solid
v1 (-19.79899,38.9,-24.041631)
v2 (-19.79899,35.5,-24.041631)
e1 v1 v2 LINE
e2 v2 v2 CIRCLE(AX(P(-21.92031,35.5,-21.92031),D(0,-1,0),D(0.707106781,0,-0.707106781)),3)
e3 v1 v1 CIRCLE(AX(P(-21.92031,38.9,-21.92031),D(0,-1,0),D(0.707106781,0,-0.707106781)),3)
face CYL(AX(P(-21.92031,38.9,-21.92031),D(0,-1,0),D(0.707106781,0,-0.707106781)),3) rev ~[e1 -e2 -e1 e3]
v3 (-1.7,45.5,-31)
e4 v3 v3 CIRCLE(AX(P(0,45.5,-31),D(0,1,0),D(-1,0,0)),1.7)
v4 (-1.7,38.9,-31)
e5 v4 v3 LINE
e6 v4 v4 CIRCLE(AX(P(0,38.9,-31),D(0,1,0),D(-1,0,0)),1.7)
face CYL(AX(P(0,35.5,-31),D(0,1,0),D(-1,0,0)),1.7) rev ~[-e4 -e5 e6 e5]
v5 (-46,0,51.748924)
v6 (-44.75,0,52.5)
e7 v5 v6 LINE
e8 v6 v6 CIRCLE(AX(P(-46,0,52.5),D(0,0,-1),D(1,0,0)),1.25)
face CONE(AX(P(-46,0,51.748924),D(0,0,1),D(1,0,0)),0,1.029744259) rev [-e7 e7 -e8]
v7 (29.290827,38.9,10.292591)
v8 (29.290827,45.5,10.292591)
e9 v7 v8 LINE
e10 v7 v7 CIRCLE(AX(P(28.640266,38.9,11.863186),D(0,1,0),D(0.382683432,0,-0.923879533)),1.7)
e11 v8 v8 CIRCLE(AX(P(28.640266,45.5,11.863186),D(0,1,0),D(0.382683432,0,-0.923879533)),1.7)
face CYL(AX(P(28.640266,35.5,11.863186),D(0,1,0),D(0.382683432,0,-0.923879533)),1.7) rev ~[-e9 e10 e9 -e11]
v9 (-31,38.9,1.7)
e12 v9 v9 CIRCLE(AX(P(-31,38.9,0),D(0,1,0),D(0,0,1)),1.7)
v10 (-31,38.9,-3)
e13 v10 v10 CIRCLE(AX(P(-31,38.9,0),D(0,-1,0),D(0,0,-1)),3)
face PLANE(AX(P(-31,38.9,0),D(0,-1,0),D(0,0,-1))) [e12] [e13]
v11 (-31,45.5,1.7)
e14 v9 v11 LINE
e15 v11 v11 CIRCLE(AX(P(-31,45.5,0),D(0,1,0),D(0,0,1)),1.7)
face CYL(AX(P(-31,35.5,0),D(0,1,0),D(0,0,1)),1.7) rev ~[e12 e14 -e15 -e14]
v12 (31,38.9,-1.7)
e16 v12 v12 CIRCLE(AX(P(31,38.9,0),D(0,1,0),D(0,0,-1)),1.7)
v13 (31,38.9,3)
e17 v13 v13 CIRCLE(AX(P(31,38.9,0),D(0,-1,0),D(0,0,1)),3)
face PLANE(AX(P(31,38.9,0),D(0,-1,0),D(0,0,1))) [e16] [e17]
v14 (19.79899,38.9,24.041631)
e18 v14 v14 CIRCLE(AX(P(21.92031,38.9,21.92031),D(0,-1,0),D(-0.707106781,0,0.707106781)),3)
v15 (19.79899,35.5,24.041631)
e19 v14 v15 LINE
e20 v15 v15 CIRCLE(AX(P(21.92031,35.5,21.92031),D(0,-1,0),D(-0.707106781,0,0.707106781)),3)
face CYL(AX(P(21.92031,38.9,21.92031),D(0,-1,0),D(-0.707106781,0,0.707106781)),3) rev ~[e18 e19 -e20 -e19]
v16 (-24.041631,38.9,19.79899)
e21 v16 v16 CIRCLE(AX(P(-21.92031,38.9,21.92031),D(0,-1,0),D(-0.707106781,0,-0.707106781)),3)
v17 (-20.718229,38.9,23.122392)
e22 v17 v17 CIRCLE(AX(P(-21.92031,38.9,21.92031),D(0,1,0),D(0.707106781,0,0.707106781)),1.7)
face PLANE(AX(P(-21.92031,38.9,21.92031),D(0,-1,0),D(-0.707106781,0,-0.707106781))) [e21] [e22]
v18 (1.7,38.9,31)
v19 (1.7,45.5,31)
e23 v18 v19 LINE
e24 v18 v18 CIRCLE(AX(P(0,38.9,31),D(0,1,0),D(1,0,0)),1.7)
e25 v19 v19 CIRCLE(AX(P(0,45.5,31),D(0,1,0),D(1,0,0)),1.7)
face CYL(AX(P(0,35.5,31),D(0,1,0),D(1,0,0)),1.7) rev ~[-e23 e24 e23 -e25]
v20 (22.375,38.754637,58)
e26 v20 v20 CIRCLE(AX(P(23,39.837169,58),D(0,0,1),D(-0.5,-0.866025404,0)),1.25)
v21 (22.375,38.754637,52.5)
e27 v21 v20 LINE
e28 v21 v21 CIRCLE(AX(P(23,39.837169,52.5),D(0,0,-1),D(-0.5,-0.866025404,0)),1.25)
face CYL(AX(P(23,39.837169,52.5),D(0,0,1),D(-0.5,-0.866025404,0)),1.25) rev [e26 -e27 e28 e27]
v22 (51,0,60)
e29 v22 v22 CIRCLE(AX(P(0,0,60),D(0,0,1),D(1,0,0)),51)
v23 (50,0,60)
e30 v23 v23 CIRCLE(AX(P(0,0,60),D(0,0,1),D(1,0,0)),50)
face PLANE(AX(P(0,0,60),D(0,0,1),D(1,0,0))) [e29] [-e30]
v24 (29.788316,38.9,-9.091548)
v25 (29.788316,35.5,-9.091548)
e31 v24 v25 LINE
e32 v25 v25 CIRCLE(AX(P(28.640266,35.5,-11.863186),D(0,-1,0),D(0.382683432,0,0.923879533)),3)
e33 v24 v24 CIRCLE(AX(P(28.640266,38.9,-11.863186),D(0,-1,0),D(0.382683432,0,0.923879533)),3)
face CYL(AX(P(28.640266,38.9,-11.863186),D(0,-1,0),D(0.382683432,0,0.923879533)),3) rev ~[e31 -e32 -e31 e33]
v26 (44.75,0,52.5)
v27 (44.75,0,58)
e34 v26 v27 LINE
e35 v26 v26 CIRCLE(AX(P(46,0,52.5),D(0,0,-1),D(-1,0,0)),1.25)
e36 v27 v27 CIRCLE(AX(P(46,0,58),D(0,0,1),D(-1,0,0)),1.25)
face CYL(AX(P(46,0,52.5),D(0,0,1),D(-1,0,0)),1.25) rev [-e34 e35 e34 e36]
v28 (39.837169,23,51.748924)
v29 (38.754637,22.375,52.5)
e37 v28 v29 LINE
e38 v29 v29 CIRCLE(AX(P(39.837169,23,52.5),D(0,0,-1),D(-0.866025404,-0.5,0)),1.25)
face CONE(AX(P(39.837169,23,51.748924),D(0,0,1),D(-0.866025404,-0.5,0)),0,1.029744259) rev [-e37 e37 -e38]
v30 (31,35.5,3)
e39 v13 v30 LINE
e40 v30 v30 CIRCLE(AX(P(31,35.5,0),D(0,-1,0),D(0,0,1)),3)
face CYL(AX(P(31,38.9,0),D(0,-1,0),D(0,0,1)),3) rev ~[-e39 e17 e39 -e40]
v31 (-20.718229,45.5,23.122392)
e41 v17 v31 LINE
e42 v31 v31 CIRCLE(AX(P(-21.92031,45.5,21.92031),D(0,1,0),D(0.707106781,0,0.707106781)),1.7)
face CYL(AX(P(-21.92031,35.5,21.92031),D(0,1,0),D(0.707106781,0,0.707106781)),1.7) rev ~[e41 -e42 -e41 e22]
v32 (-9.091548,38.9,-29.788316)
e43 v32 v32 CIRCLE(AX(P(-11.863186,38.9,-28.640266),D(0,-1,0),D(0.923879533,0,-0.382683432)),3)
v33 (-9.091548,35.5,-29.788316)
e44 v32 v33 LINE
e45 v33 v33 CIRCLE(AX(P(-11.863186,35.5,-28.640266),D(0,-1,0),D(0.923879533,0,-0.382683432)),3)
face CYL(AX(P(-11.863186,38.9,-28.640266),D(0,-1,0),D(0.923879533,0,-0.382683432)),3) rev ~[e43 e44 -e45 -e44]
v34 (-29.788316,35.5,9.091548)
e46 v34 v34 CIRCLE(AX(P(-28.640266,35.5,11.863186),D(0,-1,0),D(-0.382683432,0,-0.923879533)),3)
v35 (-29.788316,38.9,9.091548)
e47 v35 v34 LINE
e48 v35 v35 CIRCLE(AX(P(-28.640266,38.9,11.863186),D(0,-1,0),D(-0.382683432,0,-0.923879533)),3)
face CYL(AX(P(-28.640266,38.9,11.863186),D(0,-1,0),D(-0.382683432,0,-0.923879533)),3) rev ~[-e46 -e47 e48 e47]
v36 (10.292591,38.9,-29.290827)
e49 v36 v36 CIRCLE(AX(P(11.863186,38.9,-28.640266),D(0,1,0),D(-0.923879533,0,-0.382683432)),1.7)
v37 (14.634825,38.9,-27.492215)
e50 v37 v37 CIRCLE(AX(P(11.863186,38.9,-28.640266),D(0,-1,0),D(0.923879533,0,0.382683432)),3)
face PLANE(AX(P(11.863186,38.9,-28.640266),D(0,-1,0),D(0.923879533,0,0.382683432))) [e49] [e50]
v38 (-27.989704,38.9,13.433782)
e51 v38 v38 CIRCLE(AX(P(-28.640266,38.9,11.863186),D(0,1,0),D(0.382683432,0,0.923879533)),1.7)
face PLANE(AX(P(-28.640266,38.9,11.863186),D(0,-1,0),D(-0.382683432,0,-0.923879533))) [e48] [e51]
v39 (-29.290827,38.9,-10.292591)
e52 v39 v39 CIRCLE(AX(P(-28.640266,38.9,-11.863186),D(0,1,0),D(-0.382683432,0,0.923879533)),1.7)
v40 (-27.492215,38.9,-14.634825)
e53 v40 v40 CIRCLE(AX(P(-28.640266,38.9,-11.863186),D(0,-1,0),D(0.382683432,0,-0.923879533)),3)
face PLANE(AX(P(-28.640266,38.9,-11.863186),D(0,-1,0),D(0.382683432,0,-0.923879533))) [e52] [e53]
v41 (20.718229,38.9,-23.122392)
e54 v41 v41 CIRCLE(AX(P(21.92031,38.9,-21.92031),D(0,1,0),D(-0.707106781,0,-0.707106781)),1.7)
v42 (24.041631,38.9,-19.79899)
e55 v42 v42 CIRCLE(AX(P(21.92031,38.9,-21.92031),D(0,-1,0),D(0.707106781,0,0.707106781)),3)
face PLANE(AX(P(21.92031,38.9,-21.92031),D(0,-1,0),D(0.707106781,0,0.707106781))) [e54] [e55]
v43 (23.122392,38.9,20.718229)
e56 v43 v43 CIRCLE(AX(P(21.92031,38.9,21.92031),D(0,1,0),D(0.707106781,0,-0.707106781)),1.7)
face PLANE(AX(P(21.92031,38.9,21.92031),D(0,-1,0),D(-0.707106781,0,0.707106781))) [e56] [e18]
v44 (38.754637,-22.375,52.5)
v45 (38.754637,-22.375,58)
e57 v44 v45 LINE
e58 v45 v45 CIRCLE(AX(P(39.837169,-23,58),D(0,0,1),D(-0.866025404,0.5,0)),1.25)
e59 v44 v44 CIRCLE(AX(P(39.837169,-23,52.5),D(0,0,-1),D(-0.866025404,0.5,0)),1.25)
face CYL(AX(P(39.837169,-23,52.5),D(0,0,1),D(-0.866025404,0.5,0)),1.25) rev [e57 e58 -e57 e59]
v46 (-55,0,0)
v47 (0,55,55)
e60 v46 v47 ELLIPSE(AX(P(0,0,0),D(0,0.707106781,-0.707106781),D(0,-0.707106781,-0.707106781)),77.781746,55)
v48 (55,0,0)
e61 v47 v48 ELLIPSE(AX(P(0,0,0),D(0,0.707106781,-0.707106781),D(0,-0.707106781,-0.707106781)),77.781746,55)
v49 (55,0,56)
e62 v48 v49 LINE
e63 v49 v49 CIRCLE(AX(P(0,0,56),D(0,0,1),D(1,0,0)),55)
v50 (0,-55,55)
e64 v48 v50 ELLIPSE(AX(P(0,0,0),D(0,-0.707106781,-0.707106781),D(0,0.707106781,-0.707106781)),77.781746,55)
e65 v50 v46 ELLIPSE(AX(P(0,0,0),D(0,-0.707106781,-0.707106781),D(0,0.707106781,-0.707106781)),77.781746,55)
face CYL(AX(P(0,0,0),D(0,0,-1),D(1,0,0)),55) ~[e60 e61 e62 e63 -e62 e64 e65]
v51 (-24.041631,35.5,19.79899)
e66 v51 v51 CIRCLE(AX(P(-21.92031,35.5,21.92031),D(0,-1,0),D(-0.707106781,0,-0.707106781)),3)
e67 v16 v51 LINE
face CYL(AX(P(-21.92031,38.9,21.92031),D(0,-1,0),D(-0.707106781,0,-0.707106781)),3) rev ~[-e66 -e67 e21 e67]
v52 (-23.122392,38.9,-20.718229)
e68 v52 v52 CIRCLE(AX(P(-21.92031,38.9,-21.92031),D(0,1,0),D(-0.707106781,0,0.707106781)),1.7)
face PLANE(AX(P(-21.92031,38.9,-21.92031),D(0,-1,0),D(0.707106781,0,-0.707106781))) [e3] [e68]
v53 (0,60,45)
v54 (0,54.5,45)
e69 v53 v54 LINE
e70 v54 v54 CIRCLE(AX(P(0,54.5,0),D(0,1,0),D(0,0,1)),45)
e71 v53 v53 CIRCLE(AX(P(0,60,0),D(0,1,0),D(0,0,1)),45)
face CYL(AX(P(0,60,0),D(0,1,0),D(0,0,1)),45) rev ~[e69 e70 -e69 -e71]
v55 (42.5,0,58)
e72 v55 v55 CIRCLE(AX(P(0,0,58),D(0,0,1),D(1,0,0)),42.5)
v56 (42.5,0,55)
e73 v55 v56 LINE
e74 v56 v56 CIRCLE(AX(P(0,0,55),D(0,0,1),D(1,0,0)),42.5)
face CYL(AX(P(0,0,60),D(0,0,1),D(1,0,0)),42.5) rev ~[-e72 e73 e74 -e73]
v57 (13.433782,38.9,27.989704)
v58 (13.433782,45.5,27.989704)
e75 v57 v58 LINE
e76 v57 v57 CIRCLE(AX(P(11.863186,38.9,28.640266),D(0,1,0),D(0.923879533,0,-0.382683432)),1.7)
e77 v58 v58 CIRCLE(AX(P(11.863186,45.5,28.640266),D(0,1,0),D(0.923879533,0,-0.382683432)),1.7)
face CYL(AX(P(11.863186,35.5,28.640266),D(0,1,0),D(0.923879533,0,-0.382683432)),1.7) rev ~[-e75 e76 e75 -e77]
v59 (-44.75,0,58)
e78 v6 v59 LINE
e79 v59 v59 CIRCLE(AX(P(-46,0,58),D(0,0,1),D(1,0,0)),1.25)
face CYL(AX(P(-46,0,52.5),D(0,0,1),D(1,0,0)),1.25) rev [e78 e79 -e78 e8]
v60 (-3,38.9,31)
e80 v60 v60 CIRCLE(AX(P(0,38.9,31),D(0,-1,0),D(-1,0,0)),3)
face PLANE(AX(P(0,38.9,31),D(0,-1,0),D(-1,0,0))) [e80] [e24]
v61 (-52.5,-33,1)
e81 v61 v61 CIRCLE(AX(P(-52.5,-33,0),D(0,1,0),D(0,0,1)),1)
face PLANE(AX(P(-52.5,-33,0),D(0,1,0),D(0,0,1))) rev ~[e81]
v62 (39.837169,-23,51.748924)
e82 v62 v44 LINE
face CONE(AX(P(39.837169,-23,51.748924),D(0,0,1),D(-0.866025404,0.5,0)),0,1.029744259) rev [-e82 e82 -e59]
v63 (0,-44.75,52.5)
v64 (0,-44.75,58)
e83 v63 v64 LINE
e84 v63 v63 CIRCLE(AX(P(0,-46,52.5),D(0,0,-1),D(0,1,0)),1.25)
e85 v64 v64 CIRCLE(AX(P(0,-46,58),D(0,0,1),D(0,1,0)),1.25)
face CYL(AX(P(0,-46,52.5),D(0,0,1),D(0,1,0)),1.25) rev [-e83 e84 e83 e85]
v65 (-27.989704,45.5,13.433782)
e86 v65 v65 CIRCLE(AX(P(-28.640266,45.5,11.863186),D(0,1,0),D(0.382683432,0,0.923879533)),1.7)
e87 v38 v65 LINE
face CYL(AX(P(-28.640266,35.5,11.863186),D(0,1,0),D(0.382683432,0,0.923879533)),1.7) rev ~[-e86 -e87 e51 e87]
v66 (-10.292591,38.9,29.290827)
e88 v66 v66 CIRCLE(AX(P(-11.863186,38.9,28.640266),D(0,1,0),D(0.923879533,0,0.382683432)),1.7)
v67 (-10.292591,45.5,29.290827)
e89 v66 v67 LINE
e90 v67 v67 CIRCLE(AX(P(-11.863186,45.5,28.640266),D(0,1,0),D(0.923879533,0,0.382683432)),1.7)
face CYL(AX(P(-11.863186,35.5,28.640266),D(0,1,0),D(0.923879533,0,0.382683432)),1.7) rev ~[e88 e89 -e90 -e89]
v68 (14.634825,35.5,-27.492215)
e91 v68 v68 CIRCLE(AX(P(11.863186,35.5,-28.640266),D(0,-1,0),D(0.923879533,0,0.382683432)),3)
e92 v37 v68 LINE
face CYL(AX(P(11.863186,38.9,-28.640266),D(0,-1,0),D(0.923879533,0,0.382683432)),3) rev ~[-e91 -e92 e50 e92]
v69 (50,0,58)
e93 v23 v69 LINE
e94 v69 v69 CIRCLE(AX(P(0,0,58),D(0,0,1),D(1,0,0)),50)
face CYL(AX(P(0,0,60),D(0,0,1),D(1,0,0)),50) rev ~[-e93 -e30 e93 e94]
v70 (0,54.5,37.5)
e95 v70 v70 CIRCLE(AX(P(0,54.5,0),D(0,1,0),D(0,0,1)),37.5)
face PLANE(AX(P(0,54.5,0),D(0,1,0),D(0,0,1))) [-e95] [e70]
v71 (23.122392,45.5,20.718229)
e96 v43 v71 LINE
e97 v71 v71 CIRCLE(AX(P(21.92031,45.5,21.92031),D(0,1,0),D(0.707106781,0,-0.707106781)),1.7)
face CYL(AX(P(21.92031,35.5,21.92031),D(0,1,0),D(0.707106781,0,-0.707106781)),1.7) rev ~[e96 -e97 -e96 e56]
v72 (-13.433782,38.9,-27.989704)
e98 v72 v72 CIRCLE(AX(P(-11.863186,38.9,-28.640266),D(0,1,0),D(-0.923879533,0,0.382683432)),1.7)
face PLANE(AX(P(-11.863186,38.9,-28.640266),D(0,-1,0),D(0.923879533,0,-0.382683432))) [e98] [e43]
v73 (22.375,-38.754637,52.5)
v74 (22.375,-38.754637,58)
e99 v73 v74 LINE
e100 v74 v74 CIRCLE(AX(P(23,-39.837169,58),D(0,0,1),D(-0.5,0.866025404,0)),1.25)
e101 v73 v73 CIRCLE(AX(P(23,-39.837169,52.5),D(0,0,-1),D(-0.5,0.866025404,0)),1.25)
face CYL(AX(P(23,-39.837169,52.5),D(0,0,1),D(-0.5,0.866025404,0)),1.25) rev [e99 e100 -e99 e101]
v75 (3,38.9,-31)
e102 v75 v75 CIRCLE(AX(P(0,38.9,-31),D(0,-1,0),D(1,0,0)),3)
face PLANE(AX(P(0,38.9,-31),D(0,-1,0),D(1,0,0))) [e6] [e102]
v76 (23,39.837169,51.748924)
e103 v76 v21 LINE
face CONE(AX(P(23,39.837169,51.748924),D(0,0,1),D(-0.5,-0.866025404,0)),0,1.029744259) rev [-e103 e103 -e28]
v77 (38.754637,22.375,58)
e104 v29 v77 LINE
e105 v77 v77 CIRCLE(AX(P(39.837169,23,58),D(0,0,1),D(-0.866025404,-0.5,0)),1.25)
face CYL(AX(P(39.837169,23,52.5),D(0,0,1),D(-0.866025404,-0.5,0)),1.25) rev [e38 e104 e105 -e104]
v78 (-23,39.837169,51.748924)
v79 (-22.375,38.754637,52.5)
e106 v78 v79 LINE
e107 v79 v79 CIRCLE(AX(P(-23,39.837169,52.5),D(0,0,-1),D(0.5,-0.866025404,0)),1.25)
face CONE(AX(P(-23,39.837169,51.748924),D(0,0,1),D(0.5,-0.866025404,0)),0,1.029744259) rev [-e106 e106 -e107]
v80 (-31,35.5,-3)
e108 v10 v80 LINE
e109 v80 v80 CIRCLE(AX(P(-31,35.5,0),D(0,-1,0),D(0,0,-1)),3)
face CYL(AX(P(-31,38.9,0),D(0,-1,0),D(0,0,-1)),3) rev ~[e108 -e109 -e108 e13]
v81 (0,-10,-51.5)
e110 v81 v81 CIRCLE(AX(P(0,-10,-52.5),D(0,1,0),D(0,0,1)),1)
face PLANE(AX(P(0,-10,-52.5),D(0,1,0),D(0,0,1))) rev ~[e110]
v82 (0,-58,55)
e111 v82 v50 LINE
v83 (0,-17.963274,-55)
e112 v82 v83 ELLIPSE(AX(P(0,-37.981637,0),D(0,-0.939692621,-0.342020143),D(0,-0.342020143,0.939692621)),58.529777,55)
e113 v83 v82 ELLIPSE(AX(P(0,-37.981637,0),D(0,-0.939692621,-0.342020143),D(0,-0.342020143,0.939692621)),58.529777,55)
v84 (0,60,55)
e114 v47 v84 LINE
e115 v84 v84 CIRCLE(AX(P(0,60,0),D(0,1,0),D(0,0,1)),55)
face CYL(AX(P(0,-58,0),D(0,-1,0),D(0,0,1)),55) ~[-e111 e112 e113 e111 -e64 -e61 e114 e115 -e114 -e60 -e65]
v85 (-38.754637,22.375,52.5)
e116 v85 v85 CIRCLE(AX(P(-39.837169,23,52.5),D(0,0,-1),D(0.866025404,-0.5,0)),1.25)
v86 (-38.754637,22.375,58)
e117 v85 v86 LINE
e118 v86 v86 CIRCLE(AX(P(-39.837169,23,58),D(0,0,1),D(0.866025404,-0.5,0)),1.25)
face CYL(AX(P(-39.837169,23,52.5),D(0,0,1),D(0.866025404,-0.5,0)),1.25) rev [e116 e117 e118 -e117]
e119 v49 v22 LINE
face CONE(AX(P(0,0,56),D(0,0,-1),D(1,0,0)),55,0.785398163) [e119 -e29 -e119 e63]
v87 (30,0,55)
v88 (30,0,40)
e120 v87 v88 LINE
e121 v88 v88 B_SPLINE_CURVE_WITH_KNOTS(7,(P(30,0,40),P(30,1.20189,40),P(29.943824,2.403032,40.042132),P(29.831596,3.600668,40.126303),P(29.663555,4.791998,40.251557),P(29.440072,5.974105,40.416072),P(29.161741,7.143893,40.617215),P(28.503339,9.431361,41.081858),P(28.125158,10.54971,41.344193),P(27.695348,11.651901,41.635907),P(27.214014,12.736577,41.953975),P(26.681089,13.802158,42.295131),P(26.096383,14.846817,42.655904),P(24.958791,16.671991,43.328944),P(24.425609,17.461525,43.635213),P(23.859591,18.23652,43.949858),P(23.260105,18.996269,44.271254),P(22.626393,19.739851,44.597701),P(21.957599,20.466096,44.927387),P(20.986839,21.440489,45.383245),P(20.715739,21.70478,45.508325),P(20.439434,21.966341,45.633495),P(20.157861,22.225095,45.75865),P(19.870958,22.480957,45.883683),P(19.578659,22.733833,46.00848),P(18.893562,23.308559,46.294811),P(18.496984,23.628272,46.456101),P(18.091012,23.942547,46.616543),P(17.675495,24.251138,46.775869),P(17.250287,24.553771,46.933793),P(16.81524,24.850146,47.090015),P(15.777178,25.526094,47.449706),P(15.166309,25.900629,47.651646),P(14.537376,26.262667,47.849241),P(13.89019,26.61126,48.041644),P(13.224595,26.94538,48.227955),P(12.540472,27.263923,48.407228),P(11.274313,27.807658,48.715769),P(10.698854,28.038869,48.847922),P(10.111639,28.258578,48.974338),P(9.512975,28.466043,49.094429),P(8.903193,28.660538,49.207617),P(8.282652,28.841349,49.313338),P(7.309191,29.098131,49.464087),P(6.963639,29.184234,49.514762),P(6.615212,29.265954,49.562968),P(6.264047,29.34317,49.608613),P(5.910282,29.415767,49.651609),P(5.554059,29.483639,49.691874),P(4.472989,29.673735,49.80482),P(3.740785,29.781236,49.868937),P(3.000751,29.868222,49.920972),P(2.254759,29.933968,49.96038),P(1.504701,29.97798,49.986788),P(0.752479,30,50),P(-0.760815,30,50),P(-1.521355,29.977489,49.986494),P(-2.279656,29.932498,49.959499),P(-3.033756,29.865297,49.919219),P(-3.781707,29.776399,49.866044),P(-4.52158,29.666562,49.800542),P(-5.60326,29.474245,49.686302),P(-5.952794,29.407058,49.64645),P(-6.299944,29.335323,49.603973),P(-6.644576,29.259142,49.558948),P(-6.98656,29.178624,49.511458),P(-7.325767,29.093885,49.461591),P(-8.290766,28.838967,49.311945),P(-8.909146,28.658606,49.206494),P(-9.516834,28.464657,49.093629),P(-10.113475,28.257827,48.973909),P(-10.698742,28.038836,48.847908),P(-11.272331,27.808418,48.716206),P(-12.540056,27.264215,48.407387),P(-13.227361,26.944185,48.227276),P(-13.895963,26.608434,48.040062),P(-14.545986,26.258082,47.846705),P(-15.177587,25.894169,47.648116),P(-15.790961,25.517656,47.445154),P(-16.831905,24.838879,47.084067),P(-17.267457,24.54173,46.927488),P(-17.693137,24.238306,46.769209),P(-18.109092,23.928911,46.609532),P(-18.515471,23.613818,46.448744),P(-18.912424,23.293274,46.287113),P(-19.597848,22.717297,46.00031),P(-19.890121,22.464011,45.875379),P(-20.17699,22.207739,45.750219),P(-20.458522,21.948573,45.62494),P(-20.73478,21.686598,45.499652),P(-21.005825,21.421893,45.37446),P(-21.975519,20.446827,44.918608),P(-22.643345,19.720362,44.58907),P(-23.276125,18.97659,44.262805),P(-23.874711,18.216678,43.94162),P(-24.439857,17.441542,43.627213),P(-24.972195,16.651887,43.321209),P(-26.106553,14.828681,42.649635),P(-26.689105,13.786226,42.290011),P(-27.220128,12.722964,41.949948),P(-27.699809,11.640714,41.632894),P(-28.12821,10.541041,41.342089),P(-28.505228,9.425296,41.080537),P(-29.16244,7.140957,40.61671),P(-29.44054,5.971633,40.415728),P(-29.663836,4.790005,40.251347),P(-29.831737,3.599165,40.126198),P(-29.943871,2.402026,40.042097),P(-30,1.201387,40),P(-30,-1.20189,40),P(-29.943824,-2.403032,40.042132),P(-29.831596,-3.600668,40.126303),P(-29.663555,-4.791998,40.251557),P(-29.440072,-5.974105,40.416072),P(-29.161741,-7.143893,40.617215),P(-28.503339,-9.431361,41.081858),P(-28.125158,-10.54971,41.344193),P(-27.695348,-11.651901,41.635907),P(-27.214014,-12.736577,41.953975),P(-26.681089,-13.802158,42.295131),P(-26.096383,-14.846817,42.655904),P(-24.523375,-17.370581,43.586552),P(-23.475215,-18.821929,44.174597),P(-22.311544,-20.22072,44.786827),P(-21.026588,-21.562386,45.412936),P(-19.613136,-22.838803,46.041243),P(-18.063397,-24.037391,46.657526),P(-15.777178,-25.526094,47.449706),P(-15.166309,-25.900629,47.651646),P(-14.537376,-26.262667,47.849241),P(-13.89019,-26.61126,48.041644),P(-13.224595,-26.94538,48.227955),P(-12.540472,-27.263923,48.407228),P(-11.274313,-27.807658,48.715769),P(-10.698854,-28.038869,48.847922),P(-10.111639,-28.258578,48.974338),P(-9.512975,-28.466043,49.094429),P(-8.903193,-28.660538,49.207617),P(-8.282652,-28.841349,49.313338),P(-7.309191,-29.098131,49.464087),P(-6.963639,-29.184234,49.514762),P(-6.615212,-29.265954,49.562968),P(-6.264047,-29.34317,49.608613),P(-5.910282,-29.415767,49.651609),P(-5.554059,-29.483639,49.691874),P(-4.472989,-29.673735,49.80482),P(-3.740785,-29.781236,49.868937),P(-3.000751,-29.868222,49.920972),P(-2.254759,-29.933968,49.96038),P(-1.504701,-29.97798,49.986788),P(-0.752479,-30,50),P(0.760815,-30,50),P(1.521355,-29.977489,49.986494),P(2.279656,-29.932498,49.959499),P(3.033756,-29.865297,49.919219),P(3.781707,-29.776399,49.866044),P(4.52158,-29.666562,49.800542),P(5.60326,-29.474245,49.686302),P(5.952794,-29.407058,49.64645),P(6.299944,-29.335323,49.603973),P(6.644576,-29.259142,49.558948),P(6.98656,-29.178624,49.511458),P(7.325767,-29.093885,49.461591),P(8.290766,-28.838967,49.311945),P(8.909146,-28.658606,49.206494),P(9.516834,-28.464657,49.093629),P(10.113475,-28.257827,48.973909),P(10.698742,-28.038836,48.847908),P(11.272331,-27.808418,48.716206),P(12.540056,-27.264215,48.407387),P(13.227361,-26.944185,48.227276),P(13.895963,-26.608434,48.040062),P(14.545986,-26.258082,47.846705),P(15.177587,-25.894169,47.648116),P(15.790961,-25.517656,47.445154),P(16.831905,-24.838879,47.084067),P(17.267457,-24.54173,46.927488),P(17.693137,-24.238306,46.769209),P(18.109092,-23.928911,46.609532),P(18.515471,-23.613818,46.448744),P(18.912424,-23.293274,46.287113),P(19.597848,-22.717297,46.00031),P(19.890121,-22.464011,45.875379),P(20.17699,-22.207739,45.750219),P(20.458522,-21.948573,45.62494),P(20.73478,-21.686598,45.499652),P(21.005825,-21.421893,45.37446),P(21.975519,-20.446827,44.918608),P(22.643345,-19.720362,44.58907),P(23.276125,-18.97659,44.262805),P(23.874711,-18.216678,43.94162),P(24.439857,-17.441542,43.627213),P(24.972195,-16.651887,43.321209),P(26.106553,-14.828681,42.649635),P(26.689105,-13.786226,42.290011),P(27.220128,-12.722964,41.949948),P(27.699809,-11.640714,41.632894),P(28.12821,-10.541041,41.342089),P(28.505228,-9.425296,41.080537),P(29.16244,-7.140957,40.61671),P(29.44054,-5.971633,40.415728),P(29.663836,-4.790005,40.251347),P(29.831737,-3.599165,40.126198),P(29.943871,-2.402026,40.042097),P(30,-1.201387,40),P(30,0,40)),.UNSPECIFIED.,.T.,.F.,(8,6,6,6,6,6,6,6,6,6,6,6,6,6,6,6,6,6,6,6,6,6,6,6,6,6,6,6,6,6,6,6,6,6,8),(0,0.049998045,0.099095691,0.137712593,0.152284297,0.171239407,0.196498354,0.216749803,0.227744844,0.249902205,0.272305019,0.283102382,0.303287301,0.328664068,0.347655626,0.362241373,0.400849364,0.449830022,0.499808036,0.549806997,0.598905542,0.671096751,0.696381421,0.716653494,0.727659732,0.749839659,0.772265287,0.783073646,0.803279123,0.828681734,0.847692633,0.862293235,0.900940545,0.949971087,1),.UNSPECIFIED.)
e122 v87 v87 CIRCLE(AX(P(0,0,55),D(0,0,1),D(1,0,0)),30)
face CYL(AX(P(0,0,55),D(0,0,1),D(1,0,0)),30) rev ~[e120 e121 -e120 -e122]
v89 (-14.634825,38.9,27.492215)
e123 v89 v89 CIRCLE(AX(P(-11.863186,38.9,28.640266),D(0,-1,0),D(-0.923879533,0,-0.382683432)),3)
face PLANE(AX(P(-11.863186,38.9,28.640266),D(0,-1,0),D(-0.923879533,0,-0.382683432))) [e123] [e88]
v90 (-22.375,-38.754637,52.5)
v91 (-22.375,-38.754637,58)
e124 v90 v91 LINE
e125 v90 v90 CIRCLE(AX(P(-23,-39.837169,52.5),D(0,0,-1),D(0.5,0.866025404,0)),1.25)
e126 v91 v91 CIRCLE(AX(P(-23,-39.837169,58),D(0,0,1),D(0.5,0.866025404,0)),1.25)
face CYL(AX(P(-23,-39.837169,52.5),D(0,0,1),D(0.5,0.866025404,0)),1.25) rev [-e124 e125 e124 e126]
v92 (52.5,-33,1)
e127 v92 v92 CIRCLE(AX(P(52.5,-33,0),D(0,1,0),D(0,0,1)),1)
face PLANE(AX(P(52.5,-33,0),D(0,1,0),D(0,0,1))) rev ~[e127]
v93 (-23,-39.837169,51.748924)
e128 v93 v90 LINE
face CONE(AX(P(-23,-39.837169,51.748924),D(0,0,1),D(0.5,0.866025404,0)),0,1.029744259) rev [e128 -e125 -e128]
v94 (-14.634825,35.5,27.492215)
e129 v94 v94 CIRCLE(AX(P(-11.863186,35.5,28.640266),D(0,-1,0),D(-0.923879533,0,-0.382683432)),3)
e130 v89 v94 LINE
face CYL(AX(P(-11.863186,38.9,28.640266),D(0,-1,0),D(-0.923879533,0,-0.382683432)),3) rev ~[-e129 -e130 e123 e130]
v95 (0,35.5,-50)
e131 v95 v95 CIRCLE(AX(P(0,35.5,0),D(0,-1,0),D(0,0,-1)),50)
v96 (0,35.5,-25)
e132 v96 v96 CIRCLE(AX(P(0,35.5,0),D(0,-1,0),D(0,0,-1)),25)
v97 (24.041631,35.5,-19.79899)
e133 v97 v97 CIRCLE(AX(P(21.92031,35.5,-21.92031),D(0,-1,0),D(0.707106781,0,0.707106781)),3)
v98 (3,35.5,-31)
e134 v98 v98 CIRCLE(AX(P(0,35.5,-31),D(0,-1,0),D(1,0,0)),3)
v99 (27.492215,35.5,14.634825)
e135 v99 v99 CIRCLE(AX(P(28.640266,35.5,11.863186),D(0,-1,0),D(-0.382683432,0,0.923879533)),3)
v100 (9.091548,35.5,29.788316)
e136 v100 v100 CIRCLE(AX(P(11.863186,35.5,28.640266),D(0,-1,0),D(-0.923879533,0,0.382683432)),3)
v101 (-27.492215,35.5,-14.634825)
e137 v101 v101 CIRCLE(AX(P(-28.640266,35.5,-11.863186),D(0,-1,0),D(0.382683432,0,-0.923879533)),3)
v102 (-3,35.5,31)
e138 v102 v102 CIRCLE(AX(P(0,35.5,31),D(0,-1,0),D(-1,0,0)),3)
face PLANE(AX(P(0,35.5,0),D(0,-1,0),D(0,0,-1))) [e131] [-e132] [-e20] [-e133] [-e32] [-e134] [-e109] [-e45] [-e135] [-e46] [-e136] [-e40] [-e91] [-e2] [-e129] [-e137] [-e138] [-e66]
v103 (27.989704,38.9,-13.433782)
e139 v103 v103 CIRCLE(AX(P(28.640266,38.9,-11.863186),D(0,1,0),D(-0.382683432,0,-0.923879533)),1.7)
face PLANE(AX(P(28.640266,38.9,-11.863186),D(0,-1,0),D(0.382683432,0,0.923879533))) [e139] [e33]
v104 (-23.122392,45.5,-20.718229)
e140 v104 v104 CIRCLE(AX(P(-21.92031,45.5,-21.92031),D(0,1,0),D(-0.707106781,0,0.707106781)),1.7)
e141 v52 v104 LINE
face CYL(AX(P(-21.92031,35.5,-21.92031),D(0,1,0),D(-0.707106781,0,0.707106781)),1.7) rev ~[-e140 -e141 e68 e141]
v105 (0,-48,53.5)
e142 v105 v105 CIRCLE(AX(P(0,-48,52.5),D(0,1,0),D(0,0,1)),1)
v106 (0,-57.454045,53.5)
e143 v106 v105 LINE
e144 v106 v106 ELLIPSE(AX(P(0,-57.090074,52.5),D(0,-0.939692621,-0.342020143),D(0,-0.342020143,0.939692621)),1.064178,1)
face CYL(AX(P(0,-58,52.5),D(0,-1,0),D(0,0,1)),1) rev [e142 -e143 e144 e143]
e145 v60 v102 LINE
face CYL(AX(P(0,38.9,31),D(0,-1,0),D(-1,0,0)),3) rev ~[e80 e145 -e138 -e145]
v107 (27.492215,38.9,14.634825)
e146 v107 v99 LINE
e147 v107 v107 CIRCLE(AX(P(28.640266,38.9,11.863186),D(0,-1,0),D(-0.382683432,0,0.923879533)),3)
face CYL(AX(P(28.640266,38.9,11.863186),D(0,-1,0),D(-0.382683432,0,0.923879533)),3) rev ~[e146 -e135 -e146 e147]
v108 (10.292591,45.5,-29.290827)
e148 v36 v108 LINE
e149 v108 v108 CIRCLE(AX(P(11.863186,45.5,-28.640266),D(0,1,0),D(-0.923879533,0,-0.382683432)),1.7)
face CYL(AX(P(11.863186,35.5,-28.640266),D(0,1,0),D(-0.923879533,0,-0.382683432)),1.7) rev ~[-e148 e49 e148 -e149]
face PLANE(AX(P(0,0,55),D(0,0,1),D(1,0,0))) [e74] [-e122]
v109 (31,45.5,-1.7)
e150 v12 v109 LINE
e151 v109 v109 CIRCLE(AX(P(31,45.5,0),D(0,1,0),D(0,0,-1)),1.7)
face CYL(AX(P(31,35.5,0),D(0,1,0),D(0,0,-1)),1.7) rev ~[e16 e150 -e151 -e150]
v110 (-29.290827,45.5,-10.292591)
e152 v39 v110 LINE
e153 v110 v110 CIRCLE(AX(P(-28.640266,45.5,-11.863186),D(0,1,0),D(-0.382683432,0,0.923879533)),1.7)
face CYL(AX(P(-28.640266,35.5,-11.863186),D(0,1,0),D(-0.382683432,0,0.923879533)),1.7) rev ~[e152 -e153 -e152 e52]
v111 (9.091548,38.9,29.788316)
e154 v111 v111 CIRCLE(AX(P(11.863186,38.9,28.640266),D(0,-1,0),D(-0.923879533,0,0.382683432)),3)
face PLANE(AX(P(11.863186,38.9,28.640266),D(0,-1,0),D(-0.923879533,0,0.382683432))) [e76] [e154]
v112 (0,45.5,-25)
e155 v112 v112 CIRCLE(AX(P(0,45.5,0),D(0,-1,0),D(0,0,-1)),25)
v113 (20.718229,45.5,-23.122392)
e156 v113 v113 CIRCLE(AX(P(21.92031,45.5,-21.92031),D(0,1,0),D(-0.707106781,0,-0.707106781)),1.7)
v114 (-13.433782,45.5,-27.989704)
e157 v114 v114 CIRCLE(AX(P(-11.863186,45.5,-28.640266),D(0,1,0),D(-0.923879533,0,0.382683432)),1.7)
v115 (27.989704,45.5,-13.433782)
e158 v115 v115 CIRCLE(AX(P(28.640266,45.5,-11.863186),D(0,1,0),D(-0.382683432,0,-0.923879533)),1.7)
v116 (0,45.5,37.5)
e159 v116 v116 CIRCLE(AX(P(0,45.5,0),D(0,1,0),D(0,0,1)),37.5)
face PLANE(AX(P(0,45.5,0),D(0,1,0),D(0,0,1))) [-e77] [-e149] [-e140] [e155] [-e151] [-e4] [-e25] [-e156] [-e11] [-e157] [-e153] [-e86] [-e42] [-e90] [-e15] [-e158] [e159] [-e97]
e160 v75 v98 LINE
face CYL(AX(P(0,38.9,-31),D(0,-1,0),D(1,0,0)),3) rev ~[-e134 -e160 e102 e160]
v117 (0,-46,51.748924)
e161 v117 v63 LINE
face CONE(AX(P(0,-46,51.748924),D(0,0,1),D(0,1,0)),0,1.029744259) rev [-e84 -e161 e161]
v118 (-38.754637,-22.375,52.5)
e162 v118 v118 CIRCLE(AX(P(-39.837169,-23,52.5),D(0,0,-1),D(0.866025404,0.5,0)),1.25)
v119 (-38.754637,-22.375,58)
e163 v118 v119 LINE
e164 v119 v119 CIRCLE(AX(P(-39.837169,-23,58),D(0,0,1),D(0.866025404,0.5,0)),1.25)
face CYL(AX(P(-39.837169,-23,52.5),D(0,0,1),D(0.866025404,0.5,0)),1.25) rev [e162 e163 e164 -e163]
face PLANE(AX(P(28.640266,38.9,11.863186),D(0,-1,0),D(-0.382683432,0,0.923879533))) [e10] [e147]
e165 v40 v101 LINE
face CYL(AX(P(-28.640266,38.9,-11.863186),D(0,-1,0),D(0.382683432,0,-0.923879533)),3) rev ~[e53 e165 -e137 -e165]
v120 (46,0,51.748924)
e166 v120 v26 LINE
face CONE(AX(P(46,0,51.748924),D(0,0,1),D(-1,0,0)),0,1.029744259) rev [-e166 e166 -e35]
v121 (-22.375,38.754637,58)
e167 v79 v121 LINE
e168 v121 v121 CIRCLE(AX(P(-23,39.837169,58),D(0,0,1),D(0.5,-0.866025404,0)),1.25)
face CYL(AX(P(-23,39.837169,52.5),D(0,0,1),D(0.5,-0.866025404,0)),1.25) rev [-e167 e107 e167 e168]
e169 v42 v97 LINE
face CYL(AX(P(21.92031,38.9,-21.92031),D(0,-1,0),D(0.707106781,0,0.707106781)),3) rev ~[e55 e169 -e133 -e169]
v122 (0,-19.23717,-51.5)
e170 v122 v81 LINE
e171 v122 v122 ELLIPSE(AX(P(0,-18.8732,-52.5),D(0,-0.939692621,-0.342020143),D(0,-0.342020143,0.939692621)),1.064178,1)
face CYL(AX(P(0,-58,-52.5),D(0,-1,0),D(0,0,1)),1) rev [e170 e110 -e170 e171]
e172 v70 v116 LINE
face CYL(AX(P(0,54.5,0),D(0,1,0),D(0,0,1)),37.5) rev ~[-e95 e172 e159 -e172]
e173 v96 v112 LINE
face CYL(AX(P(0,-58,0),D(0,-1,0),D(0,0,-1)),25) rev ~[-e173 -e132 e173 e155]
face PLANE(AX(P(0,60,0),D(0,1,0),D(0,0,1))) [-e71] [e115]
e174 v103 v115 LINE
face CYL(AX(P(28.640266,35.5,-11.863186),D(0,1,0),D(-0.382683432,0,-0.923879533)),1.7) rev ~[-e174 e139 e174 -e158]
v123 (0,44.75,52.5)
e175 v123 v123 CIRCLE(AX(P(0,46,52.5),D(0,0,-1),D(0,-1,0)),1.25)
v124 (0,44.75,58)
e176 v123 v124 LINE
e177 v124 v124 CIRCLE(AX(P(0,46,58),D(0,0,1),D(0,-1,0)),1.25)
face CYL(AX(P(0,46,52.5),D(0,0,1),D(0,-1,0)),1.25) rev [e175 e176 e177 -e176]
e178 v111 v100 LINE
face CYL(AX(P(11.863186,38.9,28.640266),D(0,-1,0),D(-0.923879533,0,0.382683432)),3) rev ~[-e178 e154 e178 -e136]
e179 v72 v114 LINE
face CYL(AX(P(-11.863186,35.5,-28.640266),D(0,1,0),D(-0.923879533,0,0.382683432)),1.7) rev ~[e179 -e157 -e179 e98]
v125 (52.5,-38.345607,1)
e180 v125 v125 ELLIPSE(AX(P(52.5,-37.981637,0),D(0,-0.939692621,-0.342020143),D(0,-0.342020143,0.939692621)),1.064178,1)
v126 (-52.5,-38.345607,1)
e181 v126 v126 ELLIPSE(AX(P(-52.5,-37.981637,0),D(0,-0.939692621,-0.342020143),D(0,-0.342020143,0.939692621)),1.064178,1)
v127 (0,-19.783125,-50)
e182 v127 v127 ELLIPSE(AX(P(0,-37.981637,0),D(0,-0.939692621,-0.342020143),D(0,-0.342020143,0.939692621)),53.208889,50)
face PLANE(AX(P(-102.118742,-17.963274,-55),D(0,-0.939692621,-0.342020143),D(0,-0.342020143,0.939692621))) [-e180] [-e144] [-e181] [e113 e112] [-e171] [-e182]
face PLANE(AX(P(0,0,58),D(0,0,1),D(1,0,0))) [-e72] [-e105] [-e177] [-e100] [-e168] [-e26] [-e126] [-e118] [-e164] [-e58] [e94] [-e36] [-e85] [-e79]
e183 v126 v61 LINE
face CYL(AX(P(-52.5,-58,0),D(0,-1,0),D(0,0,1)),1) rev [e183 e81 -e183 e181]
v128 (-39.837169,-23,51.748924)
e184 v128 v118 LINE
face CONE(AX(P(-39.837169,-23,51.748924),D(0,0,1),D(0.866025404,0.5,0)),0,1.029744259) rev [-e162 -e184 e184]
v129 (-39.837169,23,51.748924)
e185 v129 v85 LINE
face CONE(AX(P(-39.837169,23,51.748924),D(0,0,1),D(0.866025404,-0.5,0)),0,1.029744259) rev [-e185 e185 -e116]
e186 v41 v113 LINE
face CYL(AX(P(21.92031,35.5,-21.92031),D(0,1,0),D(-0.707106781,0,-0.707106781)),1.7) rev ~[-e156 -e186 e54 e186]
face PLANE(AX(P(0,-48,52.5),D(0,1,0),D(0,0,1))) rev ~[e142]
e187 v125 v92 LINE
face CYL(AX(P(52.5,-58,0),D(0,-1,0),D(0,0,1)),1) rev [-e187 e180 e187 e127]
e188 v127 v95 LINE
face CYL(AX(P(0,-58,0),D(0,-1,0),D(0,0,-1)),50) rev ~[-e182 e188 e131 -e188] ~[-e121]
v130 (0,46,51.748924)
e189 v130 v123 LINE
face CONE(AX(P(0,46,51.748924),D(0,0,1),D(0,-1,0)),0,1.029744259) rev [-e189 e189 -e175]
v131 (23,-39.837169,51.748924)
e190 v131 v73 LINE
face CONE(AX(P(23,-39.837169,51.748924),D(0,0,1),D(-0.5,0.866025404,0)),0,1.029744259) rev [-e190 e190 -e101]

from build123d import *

# Parameters (mm, degrees)
SKETCH_1_R                = 55
EXTRUDE_1_DEPTH           = 60
EXTRUDE_2_DEPTH           = 60
EXTRUDE_2_DEPTH_BACK      = 58
SKETCH_2_R                = 55
SKETCH_3_R                = 25
CUT_EXTRUDE_1_DEPTH       = 144.349223925
SKETCH_4_R                = 45
CUT_EXTRUDE_2_DEPTH       = 5.5
SKETCH_5_R                = 37.5
CUT_EXTRUDE_3_DEPTH       = 9
SKETCH_8_R                = 50
CUT_EXTRUDE_4_DEPTH       = 93.5
HOLE_WIZARD_1_D           = 3.4
HOLE_WIZARD_1_CBORE_D     = 6
HOLE_WIZARD_1_CBORE_DEPTH = 3.4
PATTERN_CIRCULAR_2_COUNT  = 16
CUT_EXTRUDE_5_DEPTH       = 102.118742081
CUT_EXTRUDE_5_DEPTH_BACK  = 102.118742081
SKETCH_12_R               = 1
CUT_EXTRUDE_6_DEPTH       = 25
SKETCH_13_R               = 1
CUT_EXTRUDE_7_DEPTH       = 48
SKETCH_14_R               = 1
CUT_EXTRUDE_8_DEPTH       = 10
SKETCH_20_R               = 50
CUT_EXTRUDE_15_DEPTH      = 2
SKETCH_18_R               = 42.5
CUT_EXTRUDE_12_DEPTH      = 5
PATTERN_CIRCULAR_3_COUNT  = 12
SKETCH_21_R               = 30
CUT_EXTRUDE_16_DEPTH      = 20
CHAMFER_2_SIZE            = 4


with BuildPart() as part:
    # 草图1 → 凸台-拉伸1 (new body)
    with BuildSketch(Plane.XY):
        Circle(SKETCH_1_R)
    extrude(amount=EXTRUDE_1_DEPTH)

    # 草图2 → 凸台-拉伸2 (add, two sides: drawn at the far end of the back side and taken through both)
    with BuildSketch(Plane(origin=(0, 0, 0), x_dir=(1, 0, 0), z_dir=(0, 1, 0)).offset(-EXTRUDE_2_DEPTH_BACK)):
        with Locations(Location((0, 0, 0), (0, 0, 270))):
            Circle(SKETCH_2_R)
    extrude(amount=EXTRUDE_2_DEPTH + EXTRUDE_2_DEPTH_BACK)

    # 草图3 → 切除-拉伸1 (cut, through all)
    with BuildSketch(Plane.XZ.offset(58)):
        with Locations(Location((0, 0, 0), (0, 0, 270))):
            Circle(SKETCH_3_R)
    extrude(amount=-CUT_EXTRUDE_1_DEPTH, mode=Mode.SUBTRACT)

    # 草图4 → 切除-拉伸2 (cut)
    with BuildSketch(Plane(origin=(0, 60, 0), x_dir=(1, 0, 0), z_dir=(0, 1, 0))):
        with Locations(Location((0, 0, 0), (0, 0, 270))):
            Circle(SKETCH_4_R)
    extrude(amount=-CUT_EXTRUDE_2_DEPTH, mode=Mode.SUBTRACT)

    # 草图5 → 切除-拉伸3 (cut)
    with BuildSketch(Plane(origin=(0, 54.5, 0), x_dir=(1, 0, 0), z_dir=(0, 1, 0))):
        with Locations(Location((0, 0, 0), (0, 0, 270))):
            Circle(SKETCH_5_R)
    extrude(amount=-CUT_EXTRUDE_3_DEPTH, mode=Mode.SUBTRACT)

    # 草图8 → 切除-拉伸4 (cut)
    with BuildSketch(Plane.XZ.offset(58)):
        with Locations(Location((0, 0, 0), (0, 0, 270))):
            Circle(SKETCH_8_R)
    extrude(amount=-CUT_EXTRUDE_4_DEPTH, mode=Mode.SUBTRACT)

    # 打孔尺寸(%根据)内六角圆柱头螺钉的类型1 (through all)
    with Locations(Plane(origin=(0, 35.5, 0), x_dir=(-1, 0, 0), z_dir=(0, -1, 0))):
        with Locations((0, -31)):
            hole_wizard_1 = CounterBoreHole(HOLE_WIZARD_1_D / 2, HOLE_WIZARD_1_CBORE_D / 2, HOLE_WIZARD_1_CBORE_DEPTH)

    # 阵列(圆周)2: 打孔尺寸(%根据)内六角圆柱头螺钉的类型1 ×16 about axis
    pattern_circular_2_axis = Axis((0, 0, 0), (0, 1, 0))
    for i in range(1, PATTERN_CIRCULAR_2_COUNT):
        add(hole_wizard_1.rotate(pattern_circular_2_axis, i * 360 / PATTERN_CIRCULAR_2_COUNT), mode=Mode.SUBTRACT)

    # 草图11 → 切除-拉伸5 (cut, two sides: drawn at the far end of the back side and taken through both)
    with BuildSketch(Plane(origin=(0, 0, 0), x_dir=(0, 0, -1), z_dir=(1, 0, 0)).offset(-CUT_EXTRUDE_5_DEPTH_BACK)):
        Polygon((-55, -58), (55, -58), (55, -17.963274231), align=None)
    extrude(amount=CUT_EXTRUDE_5_DEPTH + CUT_EXTRUDE_5_DEPTH_BACK, mode=Mode.SUBTRACT)

    # 草图12 → 切除-拉伸6 (cut)
    with BuildSketch(Plane(origin=(0, -58, 0), x_dir=(1, 0, 0), z_dir=(0, 1, 0))):
        with Locations(Location((52.5, 0, 0), (0, 0, 270))):
            Circle(SKETCH_12_R)
        with Locations(Location((-52.5, 0, 0), (0, 0, 270))):
            Circle(SKETCH_12_R)
    extrude(amount=CUT_EXTRUDE_6_DEPTH, mode=Mode.SUBTRACT)

    # 草图13 → 切除-拉伸7 (cut)
    with BuildSketch(Plane(origin=(0, -58, 0), x_dir=(1, 0, 0), z_dir=(0, 1, 0))):
        with Locations(Location((0, 52.5, 0), (0, 0, 270))):
            Circle(SKETCH_13_R)
    extrude(amount=CUT_EXTRUDE_7_DEPTH, mode=Mode.SUBTRACT)

    # 草图14 → 切除-拉伸8 (cut)
    with BuildSketch(Plane(origin=(0, -58, 0), x_dir=(1, 0, 0), z_dir=(0, 1, 0))):
        with Locations(Location((0, -52.5, 0), (0, 0, 270))):
            Circle(SKETCH_14_R)
    extrude(amount=CUT_EXTRUDE_8_DEPTH, mode=Mode.SUBTRACT)

    # 草图20 → 切除-拉伸15 (cut)
    with BuildSketch(Plane.XY.offset(60)):
        Circle(SKETCH_20_R)
    extrude(amount=-CUT_EXTRUDE_15_DEPTH, mode=Mode.SUBTRACT)

    # 草图18 → 切除-拉伸12 (cut)
    with BuildSketch(Plane.XY.offset(60)):
        Circle(SKETCH_18_R)
    extrude(amount=-CUT_EXTRUDE_12_DEPTH, mode=Mode.SUBTRACT)

    # 草图16 → M3 螺纹孔2 (revolve, cut)
    with BuildSketch(Plane(origin=(0, 46, 60), x_dir=(0, -1, 0), z_dir=(1, 0, 0))):
        Polygon((0, 0), (0, 8.251075774), (1.25, 7.5), (1.25, 0), align=None)
    hole_wizard_m3_2 = revolve(axis=Axis((0, 46, 66.35), (0, 0, -1)), mode=Mode.SUBTRACT)

    # 阵列(圆周)3: M3 螺纹孔2 ×12 about axis
    pattern_circular_3_axis = Axis((0, 0, 0), (0, 0, 1))
    for i in range(1, PATTERN_CIRCULAR_3_COUNT):
        add(hole_wizard_m3_2.rotate(pattern_circular_3_axis, i * 360 / PATTERN_CIRCULAR_3_COUNT), mode=Mode.SUBTRACT)

    # 草图21 → 切除-拉伸16 (cut)
    with BuildSketch(Plane.XY.offset(55)):
        Circle(SKETCH_21_R)
    extrude(amount=-CUT_EXTRUDE_16_DEPTH, mode=Mode.SUBTRACT)

    # 倒角2
    chamfer_2_edges = [part.edges().sort_by_distance(p)[0] for p in [
        (-55, 0, 60),
    ]]
    chamfer(chamfer_2_edges, length=CHAMFER_2_SIZE)


solid = part.part
